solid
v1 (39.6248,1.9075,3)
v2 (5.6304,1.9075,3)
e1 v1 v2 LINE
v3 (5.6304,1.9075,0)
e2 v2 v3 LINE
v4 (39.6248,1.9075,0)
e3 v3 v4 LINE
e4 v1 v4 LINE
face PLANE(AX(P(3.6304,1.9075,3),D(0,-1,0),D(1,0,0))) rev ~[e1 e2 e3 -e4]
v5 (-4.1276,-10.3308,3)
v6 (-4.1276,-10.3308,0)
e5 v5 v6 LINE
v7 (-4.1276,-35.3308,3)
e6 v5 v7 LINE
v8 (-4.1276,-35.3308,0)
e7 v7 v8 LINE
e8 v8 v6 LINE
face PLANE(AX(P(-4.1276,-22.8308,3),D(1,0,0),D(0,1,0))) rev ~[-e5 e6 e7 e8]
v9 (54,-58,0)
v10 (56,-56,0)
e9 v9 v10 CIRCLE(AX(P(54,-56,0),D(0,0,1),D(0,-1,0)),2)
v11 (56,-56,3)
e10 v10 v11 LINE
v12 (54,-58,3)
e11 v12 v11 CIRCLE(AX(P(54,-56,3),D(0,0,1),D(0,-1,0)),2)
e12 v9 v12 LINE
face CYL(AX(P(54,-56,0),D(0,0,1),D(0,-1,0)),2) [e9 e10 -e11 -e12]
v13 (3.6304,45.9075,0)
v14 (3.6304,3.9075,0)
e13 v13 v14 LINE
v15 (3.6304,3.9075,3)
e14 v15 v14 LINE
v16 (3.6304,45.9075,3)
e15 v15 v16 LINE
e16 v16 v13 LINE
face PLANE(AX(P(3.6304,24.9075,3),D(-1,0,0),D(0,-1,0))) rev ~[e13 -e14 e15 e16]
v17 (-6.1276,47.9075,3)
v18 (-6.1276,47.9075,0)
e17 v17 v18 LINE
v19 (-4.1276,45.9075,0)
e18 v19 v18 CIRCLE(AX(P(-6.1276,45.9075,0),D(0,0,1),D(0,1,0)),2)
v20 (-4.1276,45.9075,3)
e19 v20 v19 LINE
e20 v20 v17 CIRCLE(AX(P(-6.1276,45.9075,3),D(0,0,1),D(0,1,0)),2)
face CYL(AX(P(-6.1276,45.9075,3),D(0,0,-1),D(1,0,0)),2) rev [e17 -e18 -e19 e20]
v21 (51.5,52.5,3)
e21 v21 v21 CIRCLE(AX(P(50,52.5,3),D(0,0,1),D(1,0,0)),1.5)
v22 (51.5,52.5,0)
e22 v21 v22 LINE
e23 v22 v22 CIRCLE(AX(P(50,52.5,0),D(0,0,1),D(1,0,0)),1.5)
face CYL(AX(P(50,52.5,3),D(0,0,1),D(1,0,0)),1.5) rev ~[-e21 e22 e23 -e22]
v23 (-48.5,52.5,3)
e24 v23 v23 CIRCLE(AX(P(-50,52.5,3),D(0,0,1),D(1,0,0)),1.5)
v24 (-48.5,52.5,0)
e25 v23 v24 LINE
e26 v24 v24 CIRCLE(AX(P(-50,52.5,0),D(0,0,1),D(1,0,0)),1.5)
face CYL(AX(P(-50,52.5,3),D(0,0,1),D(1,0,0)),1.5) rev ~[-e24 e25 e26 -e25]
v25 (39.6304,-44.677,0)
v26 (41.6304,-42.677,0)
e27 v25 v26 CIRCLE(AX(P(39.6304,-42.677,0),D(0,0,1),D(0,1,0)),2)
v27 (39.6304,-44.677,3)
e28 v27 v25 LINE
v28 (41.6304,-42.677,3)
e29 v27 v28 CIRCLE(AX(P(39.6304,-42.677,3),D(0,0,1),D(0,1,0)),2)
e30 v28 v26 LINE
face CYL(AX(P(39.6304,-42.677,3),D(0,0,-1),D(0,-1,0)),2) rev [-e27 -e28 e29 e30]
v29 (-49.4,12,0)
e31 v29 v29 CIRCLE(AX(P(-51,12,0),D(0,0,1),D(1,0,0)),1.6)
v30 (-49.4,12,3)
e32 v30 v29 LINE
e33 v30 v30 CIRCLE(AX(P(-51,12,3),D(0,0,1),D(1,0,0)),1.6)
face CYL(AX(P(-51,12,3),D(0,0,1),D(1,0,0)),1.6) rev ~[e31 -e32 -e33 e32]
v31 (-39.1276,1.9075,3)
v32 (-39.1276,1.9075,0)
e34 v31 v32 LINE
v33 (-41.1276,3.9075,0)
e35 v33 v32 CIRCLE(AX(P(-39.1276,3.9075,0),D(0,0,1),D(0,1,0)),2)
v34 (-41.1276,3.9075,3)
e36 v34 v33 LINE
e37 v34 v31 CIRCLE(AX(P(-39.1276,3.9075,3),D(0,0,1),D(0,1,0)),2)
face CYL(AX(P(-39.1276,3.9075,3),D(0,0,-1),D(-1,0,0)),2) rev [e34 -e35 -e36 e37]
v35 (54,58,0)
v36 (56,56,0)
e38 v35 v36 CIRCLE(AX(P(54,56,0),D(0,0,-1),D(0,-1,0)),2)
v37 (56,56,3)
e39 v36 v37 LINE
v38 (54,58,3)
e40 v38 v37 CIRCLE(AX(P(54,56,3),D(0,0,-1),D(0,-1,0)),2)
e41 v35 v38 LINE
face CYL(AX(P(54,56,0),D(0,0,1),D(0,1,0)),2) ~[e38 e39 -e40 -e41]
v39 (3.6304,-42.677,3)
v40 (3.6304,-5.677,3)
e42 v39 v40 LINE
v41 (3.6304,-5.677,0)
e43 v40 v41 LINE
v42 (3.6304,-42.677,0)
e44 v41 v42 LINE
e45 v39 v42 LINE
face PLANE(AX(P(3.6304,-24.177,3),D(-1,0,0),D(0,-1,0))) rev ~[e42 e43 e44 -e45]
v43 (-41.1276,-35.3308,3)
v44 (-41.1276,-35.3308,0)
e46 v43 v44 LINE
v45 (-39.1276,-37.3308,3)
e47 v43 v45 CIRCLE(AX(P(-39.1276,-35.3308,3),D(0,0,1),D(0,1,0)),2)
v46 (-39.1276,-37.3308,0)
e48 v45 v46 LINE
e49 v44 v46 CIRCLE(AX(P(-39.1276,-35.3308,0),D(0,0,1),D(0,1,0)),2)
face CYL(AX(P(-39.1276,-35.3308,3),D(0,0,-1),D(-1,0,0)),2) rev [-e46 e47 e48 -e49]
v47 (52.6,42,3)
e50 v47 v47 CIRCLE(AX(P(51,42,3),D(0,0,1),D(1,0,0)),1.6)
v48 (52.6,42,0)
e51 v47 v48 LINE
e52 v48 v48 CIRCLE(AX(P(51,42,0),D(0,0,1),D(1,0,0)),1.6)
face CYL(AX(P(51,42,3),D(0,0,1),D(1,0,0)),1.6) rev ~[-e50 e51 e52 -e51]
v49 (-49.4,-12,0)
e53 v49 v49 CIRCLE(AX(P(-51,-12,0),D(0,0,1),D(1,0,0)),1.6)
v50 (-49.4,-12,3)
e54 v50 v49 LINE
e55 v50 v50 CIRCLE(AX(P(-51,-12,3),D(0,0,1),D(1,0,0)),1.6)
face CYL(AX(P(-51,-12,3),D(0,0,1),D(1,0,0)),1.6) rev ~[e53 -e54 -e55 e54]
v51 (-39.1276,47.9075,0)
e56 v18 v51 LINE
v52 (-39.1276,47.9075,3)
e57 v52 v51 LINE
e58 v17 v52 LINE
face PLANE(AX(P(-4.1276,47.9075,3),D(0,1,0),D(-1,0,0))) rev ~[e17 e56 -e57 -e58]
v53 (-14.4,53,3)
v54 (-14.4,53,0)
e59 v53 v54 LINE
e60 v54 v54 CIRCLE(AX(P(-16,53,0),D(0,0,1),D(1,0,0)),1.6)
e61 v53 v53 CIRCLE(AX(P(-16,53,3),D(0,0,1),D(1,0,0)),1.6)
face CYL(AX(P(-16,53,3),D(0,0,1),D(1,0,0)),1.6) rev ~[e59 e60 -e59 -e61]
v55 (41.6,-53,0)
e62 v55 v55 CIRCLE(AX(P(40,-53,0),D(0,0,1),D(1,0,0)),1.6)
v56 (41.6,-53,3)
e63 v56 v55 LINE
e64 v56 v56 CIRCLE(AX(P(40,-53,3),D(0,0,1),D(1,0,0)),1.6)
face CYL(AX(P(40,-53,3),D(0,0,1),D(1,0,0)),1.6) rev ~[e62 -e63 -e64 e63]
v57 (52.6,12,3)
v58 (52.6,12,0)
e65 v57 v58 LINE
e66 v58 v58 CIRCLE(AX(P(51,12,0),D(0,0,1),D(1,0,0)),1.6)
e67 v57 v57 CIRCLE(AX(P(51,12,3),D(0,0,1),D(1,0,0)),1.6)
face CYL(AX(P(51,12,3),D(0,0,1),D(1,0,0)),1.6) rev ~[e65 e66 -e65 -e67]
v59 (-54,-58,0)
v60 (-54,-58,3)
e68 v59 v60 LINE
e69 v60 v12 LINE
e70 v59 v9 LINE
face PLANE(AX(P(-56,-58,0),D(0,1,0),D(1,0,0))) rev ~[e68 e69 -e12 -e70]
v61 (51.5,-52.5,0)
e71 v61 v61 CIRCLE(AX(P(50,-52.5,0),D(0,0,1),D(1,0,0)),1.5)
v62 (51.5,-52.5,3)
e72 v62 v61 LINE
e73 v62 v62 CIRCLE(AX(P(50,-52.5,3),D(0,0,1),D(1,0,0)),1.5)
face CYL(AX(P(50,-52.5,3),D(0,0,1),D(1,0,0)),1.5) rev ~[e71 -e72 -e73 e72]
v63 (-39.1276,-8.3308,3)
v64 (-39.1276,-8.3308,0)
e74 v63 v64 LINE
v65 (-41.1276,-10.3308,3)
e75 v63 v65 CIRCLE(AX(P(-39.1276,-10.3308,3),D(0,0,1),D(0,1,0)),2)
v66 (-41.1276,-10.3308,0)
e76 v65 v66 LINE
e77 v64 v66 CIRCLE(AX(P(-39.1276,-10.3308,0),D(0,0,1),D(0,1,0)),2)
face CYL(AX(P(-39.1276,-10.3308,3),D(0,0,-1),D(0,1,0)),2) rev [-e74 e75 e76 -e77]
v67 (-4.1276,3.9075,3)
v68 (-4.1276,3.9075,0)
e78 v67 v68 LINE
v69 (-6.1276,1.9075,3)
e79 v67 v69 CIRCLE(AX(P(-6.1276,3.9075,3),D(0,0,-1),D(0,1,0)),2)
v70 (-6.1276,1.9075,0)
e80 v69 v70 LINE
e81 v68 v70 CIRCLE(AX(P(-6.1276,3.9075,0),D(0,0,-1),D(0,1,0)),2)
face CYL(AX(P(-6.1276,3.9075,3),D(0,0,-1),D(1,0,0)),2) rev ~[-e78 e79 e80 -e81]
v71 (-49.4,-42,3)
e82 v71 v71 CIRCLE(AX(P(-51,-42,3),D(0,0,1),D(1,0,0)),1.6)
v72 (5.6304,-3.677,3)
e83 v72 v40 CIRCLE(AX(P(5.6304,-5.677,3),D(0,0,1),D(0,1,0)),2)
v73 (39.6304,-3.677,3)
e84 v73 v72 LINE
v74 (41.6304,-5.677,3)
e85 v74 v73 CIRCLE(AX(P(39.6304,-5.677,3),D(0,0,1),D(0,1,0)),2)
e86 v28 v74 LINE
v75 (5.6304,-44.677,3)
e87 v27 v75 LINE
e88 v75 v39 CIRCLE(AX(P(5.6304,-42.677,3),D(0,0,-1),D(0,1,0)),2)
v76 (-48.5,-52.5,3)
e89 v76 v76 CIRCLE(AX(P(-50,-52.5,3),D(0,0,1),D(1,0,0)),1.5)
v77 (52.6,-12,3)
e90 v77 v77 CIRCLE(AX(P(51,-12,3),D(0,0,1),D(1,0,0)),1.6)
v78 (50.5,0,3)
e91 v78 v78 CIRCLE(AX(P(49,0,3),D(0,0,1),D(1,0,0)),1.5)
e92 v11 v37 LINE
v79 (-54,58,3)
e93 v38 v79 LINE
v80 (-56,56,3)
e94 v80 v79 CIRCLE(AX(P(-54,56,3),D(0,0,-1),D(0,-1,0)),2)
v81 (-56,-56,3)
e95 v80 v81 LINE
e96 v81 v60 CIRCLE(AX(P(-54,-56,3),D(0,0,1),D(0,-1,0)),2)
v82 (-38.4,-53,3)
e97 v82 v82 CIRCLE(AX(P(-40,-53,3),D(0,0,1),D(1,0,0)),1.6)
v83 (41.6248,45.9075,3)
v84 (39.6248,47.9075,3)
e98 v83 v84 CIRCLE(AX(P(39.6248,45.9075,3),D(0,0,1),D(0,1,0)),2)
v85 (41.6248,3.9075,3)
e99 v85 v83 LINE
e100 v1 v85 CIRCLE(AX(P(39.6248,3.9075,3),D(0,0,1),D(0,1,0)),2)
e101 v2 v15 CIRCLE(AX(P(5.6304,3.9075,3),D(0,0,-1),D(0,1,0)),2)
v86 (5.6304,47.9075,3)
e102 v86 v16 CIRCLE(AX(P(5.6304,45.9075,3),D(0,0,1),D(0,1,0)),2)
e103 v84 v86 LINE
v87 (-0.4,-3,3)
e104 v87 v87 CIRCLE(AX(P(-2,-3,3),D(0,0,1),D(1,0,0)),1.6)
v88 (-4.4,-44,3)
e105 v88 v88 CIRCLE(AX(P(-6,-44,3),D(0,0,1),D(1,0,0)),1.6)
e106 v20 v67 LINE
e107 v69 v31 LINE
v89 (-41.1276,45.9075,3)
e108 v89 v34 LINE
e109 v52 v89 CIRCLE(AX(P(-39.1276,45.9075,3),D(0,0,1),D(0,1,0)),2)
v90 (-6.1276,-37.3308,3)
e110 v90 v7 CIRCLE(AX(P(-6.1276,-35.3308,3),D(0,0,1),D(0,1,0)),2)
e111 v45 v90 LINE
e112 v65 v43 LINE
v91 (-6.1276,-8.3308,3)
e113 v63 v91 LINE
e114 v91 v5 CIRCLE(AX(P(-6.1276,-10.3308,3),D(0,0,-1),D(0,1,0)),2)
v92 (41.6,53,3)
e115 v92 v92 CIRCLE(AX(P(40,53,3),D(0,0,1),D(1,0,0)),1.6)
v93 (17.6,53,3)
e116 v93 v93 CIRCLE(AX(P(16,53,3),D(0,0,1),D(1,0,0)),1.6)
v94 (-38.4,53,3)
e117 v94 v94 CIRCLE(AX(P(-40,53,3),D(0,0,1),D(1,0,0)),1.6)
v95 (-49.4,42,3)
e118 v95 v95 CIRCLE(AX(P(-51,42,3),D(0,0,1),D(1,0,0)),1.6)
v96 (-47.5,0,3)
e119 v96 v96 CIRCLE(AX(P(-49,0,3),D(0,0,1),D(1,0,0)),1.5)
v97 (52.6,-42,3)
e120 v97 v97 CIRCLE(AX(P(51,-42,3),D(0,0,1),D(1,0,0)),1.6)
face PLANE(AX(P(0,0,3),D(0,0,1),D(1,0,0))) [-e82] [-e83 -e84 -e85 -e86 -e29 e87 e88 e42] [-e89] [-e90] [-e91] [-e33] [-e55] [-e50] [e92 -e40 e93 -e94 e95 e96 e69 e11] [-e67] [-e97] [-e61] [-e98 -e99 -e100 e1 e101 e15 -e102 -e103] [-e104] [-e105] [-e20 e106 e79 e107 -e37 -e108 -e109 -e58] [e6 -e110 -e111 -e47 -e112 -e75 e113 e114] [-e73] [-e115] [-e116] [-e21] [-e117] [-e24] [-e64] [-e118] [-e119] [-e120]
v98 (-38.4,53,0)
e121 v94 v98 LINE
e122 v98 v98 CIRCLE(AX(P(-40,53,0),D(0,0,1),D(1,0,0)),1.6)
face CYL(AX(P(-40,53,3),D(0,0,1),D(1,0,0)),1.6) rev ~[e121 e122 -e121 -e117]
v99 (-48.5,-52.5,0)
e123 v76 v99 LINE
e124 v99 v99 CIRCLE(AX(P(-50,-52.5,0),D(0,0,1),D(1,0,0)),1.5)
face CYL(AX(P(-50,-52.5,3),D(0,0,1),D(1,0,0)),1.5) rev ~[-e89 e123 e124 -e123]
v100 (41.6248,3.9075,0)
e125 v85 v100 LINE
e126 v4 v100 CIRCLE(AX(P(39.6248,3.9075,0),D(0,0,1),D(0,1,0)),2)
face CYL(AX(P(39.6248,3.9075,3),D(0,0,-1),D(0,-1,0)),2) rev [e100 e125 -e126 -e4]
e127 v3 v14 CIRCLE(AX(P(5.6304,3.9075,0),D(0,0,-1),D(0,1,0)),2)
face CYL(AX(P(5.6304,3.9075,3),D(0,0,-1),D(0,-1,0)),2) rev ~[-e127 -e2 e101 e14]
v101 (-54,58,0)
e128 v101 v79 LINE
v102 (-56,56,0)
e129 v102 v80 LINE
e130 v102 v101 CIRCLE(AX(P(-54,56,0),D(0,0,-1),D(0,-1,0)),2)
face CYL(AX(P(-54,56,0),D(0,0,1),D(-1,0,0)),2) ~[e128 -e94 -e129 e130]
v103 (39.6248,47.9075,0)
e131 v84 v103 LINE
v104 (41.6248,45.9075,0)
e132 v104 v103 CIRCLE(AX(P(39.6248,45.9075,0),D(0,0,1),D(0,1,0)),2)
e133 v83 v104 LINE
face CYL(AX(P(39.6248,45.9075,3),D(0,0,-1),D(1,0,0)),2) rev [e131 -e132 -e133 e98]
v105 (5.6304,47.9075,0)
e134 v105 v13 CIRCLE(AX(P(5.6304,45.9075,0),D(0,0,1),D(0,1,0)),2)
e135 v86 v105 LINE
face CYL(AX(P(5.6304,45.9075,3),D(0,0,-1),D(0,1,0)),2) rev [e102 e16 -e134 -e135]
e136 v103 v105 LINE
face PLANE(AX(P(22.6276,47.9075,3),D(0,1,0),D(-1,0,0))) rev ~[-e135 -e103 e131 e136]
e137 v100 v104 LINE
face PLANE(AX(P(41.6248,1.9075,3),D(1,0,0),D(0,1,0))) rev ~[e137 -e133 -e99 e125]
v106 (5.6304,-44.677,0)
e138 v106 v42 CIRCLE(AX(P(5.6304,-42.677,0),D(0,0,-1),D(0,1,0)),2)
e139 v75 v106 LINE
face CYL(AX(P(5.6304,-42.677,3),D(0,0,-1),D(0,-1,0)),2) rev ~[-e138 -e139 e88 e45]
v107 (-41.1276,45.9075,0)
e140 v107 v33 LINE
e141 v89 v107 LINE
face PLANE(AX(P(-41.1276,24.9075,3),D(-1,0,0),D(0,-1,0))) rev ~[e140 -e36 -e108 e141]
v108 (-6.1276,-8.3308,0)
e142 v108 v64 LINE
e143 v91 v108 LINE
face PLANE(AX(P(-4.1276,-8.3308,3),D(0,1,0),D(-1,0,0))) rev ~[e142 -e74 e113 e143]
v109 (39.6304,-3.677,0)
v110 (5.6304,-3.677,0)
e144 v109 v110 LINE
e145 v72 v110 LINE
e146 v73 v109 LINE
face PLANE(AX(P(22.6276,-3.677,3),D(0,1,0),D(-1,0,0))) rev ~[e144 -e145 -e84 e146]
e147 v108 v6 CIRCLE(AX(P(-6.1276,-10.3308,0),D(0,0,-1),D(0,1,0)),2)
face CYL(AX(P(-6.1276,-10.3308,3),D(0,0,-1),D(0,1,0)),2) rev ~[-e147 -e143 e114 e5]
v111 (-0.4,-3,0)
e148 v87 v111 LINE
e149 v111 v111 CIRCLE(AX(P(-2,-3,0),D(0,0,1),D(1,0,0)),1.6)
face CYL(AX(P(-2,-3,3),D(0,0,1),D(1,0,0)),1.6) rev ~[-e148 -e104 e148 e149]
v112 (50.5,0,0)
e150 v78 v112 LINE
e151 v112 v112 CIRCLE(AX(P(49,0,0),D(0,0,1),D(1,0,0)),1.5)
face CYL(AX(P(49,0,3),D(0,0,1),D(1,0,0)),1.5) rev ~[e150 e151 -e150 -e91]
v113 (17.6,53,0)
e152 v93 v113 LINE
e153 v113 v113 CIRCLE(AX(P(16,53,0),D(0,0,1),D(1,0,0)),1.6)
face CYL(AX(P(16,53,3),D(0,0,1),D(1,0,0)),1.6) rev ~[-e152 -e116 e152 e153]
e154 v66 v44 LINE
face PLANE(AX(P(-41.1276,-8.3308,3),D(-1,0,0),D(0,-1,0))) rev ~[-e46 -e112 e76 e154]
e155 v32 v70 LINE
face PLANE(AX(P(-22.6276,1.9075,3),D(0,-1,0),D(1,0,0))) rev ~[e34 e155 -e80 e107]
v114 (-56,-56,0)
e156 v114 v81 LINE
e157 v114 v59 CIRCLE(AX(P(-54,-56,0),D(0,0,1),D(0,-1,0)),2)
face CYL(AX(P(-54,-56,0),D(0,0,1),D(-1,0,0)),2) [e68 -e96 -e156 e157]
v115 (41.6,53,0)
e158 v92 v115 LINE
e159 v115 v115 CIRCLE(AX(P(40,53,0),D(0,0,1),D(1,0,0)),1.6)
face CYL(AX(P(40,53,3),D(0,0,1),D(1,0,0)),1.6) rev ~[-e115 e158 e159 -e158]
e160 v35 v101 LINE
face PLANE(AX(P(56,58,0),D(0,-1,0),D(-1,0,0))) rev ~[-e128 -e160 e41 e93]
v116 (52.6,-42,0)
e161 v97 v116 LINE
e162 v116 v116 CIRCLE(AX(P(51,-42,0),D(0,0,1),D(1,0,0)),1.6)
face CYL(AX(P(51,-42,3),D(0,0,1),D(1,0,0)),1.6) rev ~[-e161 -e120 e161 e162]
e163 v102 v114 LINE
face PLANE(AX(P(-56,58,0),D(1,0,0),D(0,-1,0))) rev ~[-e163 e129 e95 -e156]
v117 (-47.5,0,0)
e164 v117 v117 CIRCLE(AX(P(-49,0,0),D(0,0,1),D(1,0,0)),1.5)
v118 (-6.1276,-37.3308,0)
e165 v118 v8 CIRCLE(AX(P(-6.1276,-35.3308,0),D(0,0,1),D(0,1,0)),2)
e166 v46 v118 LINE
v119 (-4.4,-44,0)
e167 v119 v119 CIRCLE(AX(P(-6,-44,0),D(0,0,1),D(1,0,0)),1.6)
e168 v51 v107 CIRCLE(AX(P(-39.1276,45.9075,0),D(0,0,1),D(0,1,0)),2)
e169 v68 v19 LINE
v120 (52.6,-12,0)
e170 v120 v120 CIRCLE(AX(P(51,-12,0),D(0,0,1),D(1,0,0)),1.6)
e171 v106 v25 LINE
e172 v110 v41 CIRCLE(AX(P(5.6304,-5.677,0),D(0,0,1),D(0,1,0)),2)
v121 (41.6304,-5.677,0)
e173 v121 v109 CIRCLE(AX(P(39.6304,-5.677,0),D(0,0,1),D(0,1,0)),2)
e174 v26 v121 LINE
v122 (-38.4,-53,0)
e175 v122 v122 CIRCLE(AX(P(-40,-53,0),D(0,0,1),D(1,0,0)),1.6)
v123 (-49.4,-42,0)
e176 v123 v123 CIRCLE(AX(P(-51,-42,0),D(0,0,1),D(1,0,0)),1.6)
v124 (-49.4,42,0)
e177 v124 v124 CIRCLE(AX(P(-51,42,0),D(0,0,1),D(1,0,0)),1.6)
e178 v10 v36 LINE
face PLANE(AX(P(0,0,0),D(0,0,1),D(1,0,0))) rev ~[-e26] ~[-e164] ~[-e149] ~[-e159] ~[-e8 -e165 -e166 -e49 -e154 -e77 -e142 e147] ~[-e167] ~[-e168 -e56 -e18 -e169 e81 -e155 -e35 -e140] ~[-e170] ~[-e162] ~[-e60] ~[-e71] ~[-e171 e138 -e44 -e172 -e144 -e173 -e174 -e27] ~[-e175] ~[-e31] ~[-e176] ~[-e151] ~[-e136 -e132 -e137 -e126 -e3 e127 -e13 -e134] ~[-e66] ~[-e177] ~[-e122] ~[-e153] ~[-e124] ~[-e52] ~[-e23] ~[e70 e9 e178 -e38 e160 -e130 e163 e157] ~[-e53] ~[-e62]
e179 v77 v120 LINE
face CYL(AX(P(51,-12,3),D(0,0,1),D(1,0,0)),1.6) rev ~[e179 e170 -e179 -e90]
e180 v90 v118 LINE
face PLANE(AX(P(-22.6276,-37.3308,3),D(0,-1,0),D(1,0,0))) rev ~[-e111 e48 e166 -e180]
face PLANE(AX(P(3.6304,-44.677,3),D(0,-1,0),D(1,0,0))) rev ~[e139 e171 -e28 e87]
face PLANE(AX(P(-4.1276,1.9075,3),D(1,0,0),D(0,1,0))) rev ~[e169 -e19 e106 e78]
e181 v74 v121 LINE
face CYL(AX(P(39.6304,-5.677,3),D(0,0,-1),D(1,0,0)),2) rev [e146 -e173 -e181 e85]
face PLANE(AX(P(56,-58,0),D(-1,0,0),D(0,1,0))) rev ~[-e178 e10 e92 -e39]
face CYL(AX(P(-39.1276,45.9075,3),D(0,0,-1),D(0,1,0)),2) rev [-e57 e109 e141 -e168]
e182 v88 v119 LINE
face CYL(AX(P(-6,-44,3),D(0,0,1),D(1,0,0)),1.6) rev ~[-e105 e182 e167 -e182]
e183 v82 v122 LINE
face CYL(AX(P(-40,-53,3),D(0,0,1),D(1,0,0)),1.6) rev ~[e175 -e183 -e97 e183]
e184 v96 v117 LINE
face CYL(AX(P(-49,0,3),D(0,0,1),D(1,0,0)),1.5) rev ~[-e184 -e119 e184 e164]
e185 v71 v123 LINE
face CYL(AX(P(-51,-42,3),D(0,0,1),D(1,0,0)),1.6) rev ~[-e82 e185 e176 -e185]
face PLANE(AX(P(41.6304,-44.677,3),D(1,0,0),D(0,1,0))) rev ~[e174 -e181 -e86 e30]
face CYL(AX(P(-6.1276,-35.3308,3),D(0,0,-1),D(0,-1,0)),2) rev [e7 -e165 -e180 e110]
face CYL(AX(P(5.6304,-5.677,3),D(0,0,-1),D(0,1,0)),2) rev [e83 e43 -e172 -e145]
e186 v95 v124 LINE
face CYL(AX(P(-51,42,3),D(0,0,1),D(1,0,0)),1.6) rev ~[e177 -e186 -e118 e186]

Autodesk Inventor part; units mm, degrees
ref_plane "YZ Plane" through (0, 0, 0) normal (1, 0, 0) x (0, 1, 0)
ref_plane "XZ Plane" through (0, 0, 0) normal (0, 1, 0) x (-1, 0, 0)
ref_plane "XY Plane" through (0, 0, 0) normal (0, 0, 1) x (1, 0, 0)
sketch "Sketch1" plane through (0, 0, 0) normal (0, 0, 1) x (1, 0, 0)
  line L0 (-56, -58) -> (56, -58)
  line L1 (56, -58) -> (56, 58)
  line L2 (56, 58) -> (-56, 58)
  line L3 (-56, 58) -> (-56, -58)
  line L4 (-56, -58) -> (56, 58) construction
  line L5 (56, -58) -> (-56, 58) construction
  point P0 (0, 0)
  dimension "d0" = 116
  dimension "d1" = 112
extrude "Extrusion1" add sketch "Sketch1" along normal blind 3
sketch "Sketch2" plane through (0, 0, 3) normal (0, 0, 1) x (1, 0, 0)
  line L0 (-78.4, 0) -> (78.4, 0) construction
  line L1 (0, 81.2) -> (0, -81.2) construction
  circle A0 centre (-50, 52.5) radius 1.5
  circle A1 centre (50, 52.5) radius 1.5
  circle A2 centre (-50, -52.5) radius 1.5
  circle A3 centre (50, -52.5) radius 1.5
  circle A4 centre (49, 0) radius 1.5
  line L2 (78.4, 0) -> (-78.4, 0) construction
  circle A5 centre (-49, 0) radius 1.5
  point P0 (0, 0)
  dimension "d4" = 3
  dimension "d5" = 100
  dimension "d6" = 105
  dimension "d44" = 3
  dimension "d45" = 98
extrude "Extrusion2" cut sketch "Sketch2" against normal through all
fillet "Fillet1" radius 2 4 edges at (-56, 58, 1.5) (-56, -58, 1.5) (56, -58, 1.5) (56, 58, 1.5)
sketch "Sketch3" plane through (0, 0, 3) normal (0, 0, 1) x (1, 0, 0)
  line L0 (22.6276, -51.0248) -> (22.6276, 2.6708)
  line L1 (47.313, -24.177) -> (-2.0522, -24.177)
  line L2 (-47.3418, -22.8308) -> (2.0866, -22.8308)
  line L3 (-22.6276, -42.0332) -> (-22.6276, -3.6284)
  line L4 (2.0578, 24.9075) -> (-47.3074, 24.9075)
  line L5 (-22.6276, -5.5598) -> (-22.6276, 54.3588)
  line L6 (47.313, 24.9075) -> (-2.0522, 24.9075)
  line L7 (22.6276, -5.5598) -> (22.6276, 54.3588)
  line L8 (41.6304, -3.677) -> (3.6304, -3.677)
  line L9 (3.6304, -3.677) -> (3.6304, -44.677)
  line L10 (3.6304, -44.677) -> (41.6304, -44.677)
  line L11 (41.6304, -44.677) -> (41.6304, -3.677)
  line L12 (41.6304, -3.677) -> (3.6304, -44.677) construction
  line L13 (3.6304, -3.677) -> (41.6304, -44.677) construction
  line L14 (-4.1276, -8.3308) -> (-41.1276, -8.3308)
  line L15 (-41.1276, -8.3308) -> (-41.1276, -37.3308)
  line L16 (-41.1276, -37.3308) -> (-4.1276, -37.3308)
  line L17 (-4.1276, -37.3308) -> (-4.1276, -8.3308)
  line L18 (-4.1276, -8.3308) -> (-41.1276, -37.3308) construction
  line L19 (-41.1276, -8.3308) -> (-4.1276, -37.3308) construction
  line L20 (-4.1276, 47.9075) -> (-41.1276, 47.9075)
  line L21 (-41.1276, 47.9075) -> (-41.1276, 1.9075)
  line L22 (-41.1276, 1.9075) -> (-4.1276, 1.9075)
  line L23 (-4.1276, 1.9075) -> (-4.1276, 47.9075)
  line L24 (-4.1276, 47.9075) -> (-41.1276, 1.9075) construction
  line L25 (-41.1276, 47.9075) -> (-4.1276, 1.9075) construction
  line L26 (41.6248, 47.9075) -> (3.6304, 47.9075)
  line L27 (3.6304, 47.9075) -> (3.6304, 1.9075)
  line L28 (3.6304, 1.9075) -> (41.6248, 1.9075)
  line L29 (41.6248, 1.9075) -> (41.6248, 47.9075)
  line L30 (41.6248, 47.9075) -> (3.6304, 1.9075) construction
  line L31 (3.6304, 47.9075) -> (41.6248, 1.9075) construction
  point P0 (0, 0)
  point P1 (22.6304, -24.177)
  point P2 (-22.6276, -22.8308)
  point P3 (-22.6276, 24.9075)
  point P4 (22.6276, 24.9075)
  point P5 (-4.1276, -22.8308)
  point P6 (-22.6276, -22.8308)
  point P7 (-22.6276, -8.3308)
  dimension "d10" = 41
  dimension "d11" = 38
  dimension "d12" = 46
  dimension "d13" = 29
  dimension "d14" = 37
  dimension "d15" = 37
extrude "Extrusion3" cut sketch "Sketch3" against normal through all
fillet "Fillet2" radius 2 16 edges at (41.6304, -44.677, 1.5) (3.6304, -44.677, 1.5) (-4.1276, -37.3308, 1.5) (-41.1276, -37.3308, 1.5) (-41.1276, -8.3308, 1.5) (-41.1276, 1.9075, 1.5) (-41.1276, 47.9075, 1.5) (-4.1276, 47.9075, 1.5) (41.6248, 47.9075, 1.5) (3.6304, 47.9075, 1.5) (-4.1276, 1.9075, 1.5) (3.6304, 1.9075, 1.5) (41.6248, 1.9075, 1.5) (41.6304, -3.677, 1.5) (3.6304, -3.677, 1.5) (-4.1276, -8.3308, 1.5)
sketch "Sketch5" plane through (0, 0, 3) normal (0, 0, 1) x (1, 0, 0)
  circle A0 centre (-2, -3) radius 1.6
  circle A1 centre (-6, -44) radius 1.6
  circle A2 centre (40, -53) radius 1.6
  circle A3 centre (51, -42) radius 1.6
  circle A4 centre (51, -12) radius 1.6
  line L0 (56, -56) -> (56, 56) construction
  line L1 (-54, -58) -> (54, -58) construction
  line L2 (0, 81.2) -> (0, -81.2) construction
  line L3 (-78.4, 0) -> (78.4, 0) construction
  circle A5 centre (-40, -53) radius 1.6
  circle A6 centre (-51, -42) radius 1.6
  circle A7 centre (-51, -12) radius 1.6
  circle A8 centre (40, 53) radius 1.6
  circle A9 centre (51, 42) radius 1.6
  circle A10 centre (51, 12) radius 1.6
  line L4 (-54, 58) -> (54, 58) construction
  circle A11 centre (-51, 12) radius 1.6
  circle A12 centre (-51, 42) radius 1.6
  circle A13 centre (-40, 53) radius 1.6
  circle A14 centre (16, 53) radius 1.6
  circle A15 centre (-16, 53) radius 1.6
  point P0 (0, 0)
  point P1 (-56, -56)
  point P2 (-56, 56)
  dimension "d19" = 44
  dimension "d20" = 6
  dimension "d21" = 3
  dimension "d22" = 2
  dimension "d23" = 5
  dimension "d24" = 5
  dimension "d25" = 5
  dimension "d27" = 3.2
  dimension "d28" = 3.2
  dimension "d29" = 3.2
  dimension "d31" = 3.2
  dimension "d32" = 3.2
  dimension "d33" = 16
  dimension "d34" = 16
  dimension "d35" = 12
  dimension "d36" = 3.2
  dimension "d37" = 3.2
  dimension "d38" = 5
  dimension "d39" = 5
  dimension "d40" = 16
  dimension "d41" = 16
extrude "Extrusion4" cut sketch "Sketch5" against normal through all
equation "\"d44\" = d4"
equation "\"d24\" = d23"
equation "\"d25\" = d23"
equation "\"d28\" = d27"
equation "\"d29\" = d27"
equation "\"d31\" = d27"
equation "\"d32\" = d27"
equation "\"d36\" = d27"
equation "\"d37\" = d27"
equation "\"d38\" = d23"
equation "\"d39\" = d23"
equation "\"d40\" = d34"
equation "\"d41\" = d34"
properties part number "AssemblyPlate"
